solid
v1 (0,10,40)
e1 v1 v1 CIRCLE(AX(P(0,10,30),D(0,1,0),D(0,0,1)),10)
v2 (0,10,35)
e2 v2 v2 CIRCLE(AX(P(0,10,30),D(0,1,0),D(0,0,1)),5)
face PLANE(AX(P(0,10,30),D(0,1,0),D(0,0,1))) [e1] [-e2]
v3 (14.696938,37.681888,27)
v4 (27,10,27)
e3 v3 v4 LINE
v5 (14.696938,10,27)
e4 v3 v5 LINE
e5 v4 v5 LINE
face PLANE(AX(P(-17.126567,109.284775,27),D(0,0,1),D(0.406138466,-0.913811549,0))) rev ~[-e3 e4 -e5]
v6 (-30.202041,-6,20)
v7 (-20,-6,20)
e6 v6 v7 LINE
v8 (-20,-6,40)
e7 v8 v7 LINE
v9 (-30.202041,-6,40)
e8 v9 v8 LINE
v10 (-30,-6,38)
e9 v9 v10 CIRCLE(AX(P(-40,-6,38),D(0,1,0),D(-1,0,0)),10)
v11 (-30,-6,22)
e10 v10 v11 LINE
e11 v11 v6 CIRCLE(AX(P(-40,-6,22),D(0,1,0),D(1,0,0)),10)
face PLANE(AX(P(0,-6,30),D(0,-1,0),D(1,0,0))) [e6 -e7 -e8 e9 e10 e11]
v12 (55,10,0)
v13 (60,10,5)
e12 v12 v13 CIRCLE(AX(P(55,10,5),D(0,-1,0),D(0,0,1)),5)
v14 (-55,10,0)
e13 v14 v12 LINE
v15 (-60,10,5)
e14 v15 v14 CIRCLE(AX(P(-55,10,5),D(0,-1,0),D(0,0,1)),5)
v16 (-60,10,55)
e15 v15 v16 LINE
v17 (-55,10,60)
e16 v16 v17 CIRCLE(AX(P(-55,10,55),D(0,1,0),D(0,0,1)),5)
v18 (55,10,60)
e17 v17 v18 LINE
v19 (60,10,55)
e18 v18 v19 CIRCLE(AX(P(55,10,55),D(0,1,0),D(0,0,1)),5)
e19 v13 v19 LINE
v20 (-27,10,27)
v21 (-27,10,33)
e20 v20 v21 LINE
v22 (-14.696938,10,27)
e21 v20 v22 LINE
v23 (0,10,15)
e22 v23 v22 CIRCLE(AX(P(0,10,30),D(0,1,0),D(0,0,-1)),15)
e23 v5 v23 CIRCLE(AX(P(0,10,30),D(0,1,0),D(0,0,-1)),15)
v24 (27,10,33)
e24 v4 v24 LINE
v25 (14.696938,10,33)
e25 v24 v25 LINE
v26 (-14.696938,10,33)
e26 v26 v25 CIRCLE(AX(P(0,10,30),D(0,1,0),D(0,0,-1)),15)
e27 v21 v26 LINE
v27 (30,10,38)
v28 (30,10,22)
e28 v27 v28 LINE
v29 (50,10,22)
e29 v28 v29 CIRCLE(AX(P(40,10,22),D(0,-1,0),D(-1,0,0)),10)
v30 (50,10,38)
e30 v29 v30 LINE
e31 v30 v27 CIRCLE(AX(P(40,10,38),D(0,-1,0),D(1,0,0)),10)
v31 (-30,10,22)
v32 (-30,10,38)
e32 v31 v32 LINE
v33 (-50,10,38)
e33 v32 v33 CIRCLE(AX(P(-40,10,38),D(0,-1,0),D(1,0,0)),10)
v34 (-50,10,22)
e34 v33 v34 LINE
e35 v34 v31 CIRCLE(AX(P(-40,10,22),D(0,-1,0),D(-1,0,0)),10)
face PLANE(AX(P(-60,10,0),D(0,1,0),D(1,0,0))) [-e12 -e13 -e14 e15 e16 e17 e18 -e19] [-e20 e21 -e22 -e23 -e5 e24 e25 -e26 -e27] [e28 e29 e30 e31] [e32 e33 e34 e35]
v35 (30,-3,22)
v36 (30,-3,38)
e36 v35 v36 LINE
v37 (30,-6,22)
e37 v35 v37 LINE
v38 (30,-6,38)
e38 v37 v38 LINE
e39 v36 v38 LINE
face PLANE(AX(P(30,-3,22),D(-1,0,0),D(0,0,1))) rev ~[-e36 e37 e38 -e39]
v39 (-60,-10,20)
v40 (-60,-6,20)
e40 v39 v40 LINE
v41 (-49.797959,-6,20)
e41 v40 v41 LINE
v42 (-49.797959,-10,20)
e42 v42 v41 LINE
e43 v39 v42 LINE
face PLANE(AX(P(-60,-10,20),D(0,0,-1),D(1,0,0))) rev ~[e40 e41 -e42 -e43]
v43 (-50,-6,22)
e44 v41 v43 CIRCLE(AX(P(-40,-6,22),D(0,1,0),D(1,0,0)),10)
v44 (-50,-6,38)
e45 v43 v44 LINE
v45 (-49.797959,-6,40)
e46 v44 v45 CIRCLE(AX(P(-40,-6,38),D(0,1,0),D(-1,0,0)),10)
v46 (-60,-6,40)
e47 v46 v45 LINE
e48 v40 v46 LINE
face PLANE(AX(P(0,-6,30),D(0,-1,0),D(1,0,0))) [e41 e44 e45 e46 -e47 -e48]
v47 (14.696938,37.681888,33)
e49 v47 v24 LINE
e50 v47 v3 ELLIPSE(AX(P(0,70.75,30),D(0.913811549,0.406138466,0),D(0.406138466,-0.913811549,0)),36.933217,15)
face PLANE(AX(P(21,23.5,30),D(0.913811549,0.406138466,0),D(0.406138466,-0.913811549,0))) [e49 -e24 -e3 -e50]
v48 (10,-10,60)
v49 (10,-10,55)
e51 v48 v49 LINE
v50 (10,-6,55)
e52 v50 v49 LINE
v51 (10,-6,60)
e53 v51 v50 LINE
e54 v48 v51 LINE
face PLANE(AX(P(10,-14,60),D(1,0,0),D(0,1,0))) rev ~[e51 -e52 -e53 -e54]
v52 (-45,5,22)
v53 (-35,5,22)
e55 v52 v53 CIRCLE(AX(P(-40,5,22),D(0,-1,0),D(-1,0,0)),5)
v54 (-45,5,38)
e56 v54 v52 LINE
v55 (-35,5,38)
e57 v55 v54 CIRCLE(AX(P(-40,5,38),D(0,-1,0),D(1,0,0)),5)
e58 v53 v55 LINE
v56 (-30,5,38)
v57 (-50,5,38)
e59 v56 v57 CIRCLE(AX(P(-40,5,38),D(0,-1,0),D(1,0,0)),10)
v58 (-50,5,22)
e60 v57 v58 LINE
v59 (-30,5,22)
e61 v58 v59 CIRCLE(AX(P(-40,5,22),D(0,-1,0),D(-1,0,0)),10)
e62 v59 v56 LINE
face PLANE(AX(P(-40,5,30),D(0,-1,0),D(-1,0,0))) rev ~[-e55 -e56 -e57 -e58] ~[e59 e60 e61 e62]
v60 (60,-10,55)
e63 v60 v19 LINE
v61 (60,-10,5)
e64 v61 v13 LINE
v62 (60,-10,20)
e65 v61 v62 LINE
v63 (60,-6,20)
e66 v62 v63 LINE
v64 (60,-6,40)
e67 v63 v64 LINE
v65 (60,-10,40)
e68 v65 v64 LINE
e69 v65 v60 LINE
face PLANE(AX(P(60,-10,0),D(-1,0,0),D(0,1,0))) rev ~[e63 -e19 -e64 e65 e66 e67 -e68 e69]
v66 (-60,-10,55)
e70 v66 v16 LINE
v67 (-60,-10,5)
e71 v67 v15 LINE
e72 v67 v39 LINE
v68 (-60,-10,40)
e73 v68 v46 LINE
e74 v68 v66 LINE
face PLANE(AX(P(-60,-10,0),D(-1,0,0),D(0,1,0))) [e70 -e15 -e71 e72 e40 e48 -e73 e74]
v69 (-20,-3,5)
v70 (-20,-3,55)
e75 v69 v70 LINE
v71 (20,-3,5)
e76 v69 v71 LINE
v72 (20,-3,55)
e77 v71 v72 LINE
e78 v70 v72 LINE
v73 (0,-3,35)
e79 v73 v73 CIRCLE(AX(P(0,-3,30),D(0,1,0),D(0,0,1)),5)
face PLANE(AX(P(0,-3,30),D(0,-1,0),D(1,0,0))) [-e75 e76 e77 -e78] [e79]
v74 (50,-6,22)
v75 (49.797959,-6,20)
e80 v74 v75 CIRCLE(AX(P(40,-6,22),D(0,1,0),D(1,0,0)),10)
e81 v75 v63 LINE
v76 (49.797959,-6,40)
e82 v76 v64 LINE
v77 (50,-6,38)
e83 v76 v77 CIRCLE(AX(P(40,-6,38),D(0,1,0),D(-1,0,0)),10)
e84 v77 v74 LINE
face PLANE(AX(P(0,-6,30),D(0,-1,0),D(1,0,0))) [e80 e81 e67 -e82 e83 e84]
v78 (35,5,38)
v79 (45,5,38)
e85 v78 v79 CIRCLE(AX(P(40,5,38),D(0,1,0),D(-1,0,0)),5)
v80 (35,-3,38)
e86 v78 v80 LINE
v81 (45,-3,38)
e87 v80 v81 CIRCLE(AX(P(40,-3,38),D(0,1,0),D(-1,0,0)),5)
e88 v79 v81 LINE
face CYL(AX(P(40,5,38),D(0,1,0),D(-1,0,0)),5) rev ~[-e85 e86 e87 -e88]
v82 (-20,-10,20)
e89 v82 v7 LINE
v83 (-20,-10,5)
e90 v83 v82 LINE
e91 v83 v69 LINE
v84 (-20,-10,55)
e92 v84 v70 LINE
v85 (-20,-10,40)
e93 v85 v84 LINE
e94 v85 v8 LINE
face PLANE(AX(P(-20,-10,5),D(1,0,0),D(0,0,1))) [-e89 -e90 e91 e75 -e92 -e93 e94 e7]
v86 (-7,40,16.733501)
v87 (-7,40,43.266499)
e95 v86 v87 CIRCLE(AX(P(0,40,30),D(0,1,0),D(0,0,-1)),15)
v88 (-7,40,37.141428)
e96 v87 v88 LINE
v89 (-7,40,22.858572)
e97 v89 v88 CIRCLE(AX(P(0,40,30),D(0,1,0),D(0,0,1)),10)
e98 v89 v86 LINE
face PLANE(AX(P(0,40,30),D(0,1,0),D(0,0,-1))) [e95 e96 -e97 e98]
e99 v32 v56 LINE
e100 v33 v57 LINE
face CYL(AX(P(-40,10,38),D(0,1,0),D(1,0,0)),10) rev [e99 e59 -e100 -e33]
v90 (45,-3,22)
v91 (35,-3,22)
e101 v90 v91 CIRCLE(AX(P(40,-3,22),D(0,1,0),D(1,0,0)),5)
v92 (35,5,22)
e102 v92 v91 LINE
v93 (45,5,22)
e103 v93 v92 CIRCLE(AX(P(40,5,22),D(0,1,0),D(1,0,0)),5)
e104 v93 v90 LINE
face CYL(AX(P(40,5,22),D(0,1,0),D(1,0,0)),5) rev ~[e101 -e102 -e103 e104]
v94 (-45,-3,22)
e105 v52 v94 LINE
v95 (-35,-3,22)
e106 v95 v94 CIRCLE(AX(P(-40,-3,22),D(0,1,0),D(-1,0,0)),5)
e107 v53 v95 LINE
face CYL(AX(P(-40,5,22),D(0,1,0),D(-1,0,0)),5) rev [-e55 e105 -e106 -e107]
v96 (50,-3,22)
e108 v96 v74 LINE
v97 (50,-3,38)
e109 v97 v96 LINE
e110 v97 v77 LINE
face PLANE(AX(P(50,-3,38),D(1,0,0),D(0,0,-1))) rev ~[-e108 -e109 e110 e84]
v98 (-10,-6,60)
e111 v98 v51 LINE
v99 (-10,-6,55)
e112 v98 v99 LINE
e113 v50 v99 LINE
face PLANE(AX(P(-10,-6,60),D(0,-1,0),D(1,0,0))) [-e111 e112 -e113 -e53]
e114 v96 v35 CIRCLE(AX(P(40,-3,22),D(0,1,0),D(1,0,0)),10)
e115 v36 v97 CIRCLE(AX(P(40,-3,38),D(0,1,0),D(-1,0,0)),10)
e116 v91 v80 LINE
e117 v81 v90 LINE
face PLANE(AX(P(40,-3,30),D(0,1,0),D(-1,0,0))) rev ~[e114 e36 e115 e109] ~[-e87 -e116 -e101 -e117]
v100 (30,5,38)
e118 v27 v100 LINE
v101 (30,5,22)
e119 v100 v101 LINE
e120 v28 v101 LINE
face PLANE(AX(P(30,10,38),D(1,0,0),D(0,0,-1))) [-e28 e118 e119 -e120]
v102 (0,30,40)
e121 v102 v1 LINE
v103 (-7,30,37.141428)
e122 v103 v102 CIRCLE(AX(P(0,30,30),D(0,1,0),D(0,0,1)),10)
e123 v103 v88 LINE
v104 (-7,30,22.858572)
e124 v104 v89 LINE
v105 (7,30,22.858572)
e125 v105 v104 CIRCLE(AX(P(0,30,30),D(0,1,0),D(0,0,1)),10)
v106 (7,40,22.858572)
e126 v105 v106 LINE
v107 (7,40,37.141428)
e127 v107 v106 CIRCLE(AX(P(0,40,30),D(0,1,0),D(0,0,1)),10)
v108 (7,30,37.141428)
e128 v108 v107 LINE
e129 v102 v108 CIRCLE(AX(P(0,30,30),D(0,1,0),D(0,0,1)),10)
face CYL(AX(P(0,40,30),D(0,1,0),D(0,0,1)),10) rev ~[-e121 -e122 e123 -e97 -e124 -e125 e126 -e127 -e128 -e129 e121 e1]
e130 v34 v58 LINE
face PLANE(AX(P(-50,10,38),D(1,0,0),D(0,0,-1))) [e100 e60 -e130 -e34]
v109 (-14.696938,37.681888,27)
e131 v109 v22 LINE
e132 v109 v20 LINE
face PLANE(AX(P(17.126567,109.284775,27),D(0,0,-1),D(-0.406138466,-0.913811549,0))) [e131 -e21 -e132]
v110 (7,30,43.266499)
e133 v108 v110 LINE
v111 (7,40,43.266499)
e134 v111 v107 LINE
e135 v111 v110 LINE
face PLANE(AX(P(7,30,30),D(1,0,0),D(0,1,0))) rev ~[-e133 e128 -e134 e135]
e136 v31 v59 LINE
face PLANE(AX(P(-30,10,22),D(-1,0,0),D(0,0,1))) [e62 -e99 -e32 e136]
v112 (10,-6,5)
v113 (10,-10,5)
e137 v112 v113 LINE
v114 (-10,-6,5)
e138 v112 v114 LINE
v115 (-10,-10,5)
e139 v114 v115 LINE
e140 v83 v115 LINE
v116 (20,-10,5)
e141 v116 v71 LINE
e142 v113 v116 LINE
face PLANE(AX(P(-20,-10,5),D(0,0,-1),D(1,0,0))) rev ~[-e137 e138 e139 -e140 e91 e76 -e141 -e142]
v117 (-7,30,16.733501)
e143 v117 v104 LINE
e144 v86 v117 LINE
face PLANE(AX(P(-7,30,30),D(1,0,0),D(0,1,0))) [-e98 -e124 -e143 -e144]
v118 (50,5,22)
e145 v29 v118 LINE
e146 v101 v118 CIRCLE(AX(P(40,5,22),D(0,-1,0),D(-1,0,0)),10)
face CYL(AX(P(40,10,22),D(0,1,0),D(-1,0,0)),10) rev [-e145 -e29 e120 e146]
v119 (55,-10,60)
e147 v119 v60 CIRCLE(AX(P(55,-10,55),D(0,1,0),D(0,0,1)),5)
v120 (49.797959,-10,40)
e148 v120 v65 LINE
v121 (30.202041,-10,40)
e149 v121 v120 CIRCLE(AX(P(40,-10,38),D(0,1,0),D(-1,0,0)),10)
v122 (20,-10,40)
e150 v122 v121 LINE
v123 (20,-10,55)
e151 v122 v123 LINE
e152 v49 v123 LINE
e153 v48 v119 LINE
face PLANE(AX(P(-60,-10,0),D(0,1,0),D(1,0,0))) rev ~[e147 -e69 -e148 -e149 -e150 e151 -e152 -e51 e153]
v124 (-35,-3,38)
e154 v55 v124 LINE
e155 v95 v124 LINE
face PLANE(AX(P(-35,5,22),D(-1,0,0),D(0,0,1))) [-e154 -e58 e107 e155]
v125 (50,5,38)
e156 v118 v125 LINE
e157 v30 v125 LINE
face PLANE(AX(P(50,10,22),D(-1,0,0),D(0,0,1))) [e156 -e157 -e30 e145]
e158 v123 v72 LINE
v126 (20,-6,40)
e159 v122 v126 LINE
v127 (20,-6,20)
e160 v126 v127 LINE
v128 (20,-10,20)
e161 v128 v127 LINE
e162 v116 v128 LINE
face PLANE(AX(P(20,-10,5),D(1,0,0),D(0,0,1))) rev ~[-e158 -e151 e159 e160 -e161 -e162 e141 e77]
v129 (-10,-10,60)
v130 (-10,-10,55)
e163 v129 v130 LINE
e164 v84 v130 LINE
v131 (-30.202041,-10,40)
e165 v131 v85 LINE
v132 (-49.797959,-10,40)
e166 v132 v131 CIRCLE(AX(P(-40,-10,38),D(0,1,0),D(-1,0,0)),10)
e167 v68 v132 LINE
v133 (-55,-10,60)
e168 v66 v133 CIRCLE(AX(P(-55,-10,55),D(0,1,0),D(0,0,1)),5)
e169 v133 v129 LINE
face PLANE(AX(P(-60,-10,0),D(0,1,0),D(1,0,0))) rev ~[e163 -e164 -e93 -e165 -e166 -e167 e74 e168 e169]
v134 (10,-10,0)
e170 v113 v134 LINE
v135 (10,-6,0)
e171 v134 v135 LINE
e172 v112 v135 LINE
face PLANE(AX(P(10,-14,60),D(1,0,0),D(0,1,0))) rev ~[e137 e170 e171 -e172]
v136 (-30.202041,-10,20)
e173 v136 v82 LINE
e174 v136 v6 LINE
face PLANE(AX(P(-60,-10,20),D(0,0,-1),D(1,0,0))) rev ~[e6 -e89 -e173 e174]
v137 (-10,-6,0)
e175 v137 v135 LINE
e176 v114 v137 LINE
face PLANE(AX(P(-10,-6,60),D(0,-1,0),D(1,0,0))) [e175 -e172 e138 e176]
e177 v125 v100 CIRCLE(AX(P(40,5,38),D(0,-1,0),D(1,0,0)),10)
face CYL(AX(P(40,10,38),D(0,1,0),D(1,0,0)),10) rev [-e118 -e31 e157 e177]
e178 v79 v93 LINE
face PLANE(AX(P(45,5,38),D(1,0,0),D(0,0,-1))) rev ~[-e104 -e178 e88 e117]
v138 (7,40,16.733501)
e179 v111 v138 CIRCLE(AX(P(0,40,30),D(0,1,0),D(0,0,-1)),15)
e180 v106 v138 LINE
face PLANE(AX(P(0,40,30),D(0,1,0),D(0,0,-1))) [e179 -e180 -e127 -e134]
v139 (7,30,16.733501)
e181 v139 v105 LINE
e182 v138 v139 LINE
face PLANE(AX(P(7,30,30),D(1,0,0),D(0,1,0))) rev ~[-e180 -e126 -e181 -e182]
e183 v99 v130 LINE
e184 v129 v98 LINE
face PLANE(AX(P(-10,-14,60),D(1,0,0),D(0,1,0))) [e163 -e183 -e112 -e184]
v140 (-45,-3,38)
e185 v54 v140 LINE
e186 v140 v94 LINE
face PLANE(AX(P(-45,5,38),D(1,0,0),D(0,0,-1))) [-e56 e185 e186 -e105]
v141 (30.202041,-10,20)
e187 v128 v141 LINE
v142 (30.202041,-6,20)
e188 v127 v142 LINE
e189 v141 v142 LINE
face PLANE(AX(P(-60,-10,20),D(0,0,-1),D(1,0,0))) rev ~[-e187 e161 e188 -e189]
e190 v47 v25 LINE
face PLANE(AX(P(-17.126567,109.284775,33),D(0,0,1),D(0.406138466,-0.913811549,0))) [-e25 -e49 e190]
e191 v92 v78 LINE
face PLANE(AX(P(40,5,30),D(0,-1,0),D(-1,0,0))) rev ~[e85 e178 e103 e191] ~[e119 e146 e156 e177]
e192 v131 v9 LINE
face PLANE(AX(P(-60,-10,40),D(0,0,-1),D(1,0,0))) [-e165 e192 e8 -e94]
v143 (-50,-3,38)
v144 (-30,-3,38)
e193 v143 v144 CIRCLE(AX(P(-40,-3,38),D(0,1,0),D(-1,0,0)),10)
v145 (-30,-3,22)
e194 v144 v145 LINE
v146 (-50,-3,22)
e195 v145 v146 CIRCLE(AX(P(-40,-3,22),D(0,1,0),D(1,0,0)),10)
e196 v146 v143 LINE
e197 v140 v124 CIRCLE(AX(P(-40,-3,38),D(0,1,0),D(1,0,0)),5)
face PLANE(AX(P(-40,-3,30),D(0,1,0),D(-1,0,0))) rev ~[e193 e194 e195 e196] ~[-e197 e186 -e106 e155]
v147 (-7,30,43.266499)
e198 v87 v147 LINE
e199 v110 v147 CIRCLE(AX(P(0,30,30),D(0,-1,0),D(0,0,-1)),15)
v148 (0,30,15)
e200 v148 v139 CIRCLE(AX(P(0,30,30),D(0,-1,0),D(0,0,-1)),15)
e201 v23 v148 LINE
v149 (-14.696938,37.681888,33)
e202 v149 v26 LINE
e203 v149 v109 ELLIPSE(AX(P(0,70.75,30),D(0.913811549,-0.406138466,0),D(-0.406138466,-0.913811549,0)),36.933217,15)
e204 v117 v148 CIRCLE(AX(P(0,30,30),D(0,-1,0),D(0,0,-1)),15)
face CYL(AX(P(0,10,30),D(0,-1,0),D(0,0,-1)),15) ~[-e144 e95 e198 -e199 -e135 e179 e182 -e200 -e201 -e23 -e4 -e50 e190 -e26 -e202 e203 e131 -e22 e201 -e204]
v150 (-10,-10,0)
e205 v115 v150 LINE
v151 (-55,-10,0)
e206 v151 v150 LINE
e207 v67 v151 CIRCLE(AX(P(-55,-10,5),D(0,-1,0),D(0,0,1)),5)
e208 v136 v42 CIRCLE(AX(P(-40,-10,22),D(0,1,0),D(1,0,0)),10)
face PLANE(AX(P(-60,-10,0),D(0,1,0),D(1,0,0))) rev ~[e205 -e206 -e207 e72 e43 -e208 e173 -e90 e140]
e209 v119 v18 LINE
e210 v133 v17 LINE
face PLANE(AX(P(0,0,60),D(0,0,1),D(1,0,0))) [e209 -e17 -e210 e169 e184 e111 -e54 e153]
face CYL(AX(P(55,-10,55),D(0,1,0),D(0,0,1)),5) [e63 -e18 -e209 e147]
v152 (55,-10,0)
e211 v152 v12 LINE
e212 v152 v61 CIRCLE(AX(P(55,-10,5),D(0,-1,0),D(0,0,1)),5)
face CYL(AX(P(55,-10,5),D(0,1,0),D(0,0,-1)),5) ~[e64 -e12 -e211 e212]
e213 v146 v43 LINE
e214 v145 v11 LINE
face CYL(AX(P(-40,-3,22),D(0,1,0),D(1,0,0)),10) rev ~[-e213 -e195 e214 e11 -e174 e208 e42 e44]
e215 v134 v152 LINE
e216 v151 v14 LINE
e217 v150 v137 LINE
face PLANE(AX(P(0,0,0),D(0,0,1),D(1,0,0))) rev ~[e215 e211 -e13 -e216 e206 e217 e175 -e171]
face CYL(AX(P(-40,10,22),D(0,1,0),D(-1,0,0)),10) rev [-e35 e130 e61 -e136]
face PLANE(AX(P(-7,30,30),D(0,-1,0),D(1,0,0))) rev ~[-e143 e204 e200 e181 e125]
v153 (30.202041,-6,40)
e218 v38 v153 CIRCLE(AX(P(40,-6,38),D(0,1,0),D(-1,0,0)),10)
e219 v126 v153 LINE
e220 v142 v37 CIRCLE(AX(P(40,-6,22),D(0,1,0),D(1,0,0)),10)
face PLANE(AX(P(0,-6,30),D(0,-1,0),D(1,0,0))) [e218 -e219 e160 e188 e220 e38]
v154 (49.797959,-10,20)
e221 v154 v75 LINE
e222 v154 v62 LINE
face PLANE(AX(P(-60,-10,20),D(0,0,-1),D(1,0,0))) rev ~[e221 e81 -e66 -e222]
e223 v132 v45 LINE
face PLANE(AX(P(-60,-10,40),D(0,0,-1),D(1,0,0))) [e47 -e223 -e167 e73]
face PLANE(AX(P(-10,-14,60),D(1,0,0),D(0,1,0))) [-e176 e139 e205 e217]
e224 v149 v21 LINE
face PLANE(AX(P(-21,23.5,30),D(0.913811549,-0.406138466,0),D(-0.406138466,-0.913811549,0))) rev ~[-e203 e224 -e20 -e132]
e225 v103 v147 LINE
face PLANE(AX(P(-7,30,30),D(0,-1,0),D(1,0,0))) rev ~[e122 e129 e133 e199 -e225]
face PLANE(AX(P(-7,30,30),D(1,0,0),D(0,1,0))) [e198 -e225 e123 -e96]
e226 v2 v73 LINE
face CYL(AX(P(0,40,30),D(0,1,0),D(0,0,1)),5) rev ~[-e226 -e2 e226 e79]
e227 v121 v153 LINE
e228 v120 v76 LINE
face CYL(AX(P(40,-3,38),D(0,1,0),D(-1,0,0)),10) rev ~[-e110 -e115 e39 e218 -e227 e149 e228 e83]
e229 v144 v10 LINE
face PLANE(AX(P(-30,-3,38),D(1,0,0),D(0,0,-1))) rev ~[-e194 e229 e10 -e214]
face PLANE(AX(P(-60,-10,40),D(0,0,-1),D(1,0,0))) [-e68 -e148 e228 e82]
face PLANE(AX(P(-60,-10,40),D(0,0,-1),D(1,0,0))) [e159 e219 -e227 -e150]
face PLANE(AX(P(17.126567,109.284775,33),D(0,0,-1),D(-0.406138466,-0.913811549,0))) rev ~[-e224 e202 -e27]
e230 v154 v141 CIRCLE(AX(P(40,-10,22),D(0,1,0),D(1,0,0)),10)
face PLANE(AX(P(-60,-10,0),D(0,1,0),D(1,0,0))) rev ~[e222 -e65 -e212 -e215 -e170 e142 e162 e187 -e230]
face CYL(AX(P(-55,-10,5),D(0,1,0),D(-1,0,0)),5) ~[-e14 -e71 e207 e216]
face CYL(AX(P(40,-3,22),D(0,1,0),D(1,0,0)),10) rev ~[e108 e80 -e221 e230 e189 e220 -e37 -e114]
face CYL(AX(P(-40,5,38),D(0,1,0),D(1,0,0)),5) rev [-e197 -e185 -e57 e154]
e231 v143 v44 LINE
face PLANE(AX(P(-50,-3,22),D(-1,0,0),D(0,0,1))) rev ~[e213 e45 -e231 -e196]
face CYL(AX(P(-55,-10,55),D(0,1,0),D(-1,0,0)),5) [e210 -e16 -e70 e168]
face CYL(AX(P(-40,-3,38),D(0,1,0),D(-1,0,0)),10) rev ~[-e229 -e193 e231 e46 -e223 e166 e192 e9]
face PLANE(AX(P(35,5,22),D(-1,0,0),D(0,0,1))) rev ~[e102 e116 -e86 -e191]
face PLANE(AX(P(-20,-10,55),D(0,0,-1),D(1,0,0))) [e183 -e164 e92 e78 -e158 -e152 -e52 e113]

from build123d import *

# Parameters (mm, degrees)
SKETCH1_W           = 120
SKETCH1_H           = 20
BOSS_EXTRUDE1_DEPTH = 60
SKETCH2_R           = 15
BOSS_EXTRUDE2_DEPTH = 30
SKETCH3_R           = 5
CUT_EXTRUDE1_DEPTH  = 76
SKETCH4_R           = 10
CUT_EXTRUDE3_DEPTH  = 30
SKETCH5_W           = 40
SKETCH5_H           = 50
CUT_EXTRUDE5_DEPTH  = 7
SKETCH6_W           = 20
SKETCH6_H           = 8
CUT_EXTRUDE6_DEPTH  = 70
CUT_EXTRUDE7_DEPTH  = 5
CUT_EXTRUDE8_START  = -7
CUT_EXTRUDE8_DEPTH  = 7
CUT_EXTRUDE9_DEPTH  = 24
SKETCH11_W          = 120
SKETCH11_H          = 20
CUT_EXTRUDE10_DEPTH = 4
RIB10_REACH         = 80.102
SKETCH12_WALL_W     = 187.751566924
SKETCH12_WALL_H     = 6
RIB11_REACH         = 80.102
SKETCH13_WALL_W     = 187.751566924
SKETCH13_WALL_H     = 6
FILLET1_R           = 5
SKETCH14_W          = 14
SKETCH14_H          = 10
CUT_EXTRUDE13_DEPTH = 20


with BuildPart() as part:
    # Sketch1 → Boss-Extrude1 (new body)
    with BuildSketch(Plane.XY):
        Rectangle(SKETCH1_W, SKETCH1_H)
    extrude(amount=BOSS_EXTRUDE1_DEPTH)

    # Sketch2 → Boss-Extrude2 (add)
    with BuildSketch(Plane(origin=(0, 10, 0), x_dir=(1, 0, 0), z_dir=(0, 1, 0))):
        with Locations(Location((0, -30, 0), (0, 0, 90))):
            Circle(SKETCH2_R)
    extrude(amount=BOSS_EXTRUDE2_DEPTH)

    # Sketch3 → Cut-Extrude1 (cut)
    with BuildSketch(Plane(origin=(0, 40, 0), x_dir=(1, 0, 0), z_dir=(0, 1, 0))):
        with Locations(Location((0, -30, 0), (0, 0, 270))):
            Circle(SKETCH3_R)
    extrude(amount=-CUT_EXTRUDE1_DEPTH, mode=Mode.SUBTRACT)

    # Sketch4 → Cut-Extrude3 (cut)
    with BuildSketch(Plane(origin=(0, 40, 0), x_dir=(1, 0, 0), z_dir=(0, 1, 0))):
        with Locations(Location((0, -30, 0), (0, 0, 270))):
            Circle(SKETCH4_R)
    extrude(amount=-CUT_EXTRUDE3_DEPTH, mode=Mode.SUBTRACT)

    # Sketch5 → Cut-Extrude5 (cut)
    with BuildSketch(Plane.XZ.offset(10)):
        with Locations((0, 30)):
            Rectangle(SKETCH5_W, SKETCH5_H)
    extrude(amount=-CUT_EXTRUDE5_DEPTH, mode=Mode.SUBTRACT)

    # Sketch6 → Cut-Extrude6 (cut)
    with BuildSketch(Plane.XY.offset(60)):
        with Locations((0, -10)):
            Rectangle(SKETCH6_W, SKETCH6_H)
    extrude(amount=-CUT_EXTRUDE6_DEPTH, mode=Mode.SUBTRACT)

    # Sketch7 → Cut-Extrude7 (cut)
    with BuildSketch(Plane(origin=(0, 10, 0), x_dir=(1, 0, 0), z_dir=(0, 1, 0))):
        with BuildLine():
            Line((-30, -22), (-30, -38))
            ThreePointArc((-30, -38), (-40, -48), (-50, -38))
            Line((-50, -38), (-50, -22))
            ThreePointArc((-50, -22), (-40, -12), (-30, -22))
        make_face()
        with BuildLine():
            Line((50, -22), (50, -38))
            ThreePointArc((50, -38), (40, -48), (30, -38))
            Line((30, -38), (30, -22))
            ThreePointArc((30, -22), (40, -12), (50, -22))
        make_face()
    extrude(amount=-CUT_EXTRUDE7_DEPTH, mode=Mode.SUBTRACT)

    # Sketch9 → Cut-Extrude8 (cut)
    with BuildSketch(Plane.XZ.offset(10).offset(CUT_EXTRUDE8_START)):
        with BuildLine():
            Line((-30, 38), (-30, 22))
            ThreePointArc((-30, 22), (-40, 12), (-50, 22))
            Line((-50, 22), (-50, 38))
            ThreePointArc((-50, 38), (-40, 48), (-30, 38))
        make_face()
        with BuildLine():
            Line((50, 38), (50, 22))
            ThreePointArc((50, 22), (40, 12), (30, 22))
            Line((30, 22), (30, 38))
            ThreePointArc((30, 38), (40, 48), (50, 38))
        make_face()
    extrude(amount=CUT_EXTRUDE8_DEPTH, mode=Mode.SUBTRACT)

    # Sketch10 → Cut-Extrude9 (cut)
    with BuildSketch(Plane(origin=(0, 5, 0), x_dir=(1, 0, 0), z_dir=(0, 1, 0))):
        with BuildLine():
            Line((-45, -38), (-45, -22))
            ThreePointArc((-45, -22), (-40, -17), (-35, -22))
            Line((-35, -22), (-35, -38))
            ThreePointArc((-35, -38), (-40, -43), (-45, -38))
        make_face()
        with BuildLine():
            Line((45, -38), (45, -22))
            ThreePointArc((45, -22), (40, -17), (35, -22))
            Line((35, -22), (35, -38))
            ThreePointArc((35, -38), (40, -43), (45, -38))
        make_face()
    extrude(amount=-CUT_EXTRUDE9_DEPTH, mode=Mode.SUBTRACT)

    # Sketch11 → Cut-Extrude10 (cut)
    with BuildSketch(Plane.XZ.offset(10)):
        with Locations((0, 30)):
            Rectangle(SKETCH11_W, SKETCH11_H)
    extrude(amount=-CUT_EXTRUDE10_DEPTH, mode=Mode.SUBTRACT)

    # Sketch12 wall → Rib10 (add, up to next)
    with BuildSketch(Plane(origin=(-21, 23.5, 30), x_dir=(-0.406138466053, -0.91381154862, 0), z_dir=(0.91381154862, -0.406138466053, 0)), mode=Mode.PRIVATE) as rib10_sk1:
        Rectangle(SKETCH12_WALL_W, SKETCH12_WALL_H)
    rib10_tool1 = extrude(rib10_sk1.sketch, amount=RIB10_REACH, mode=Mode.PRIVATE) - part.part
    add(rib10_tool1.solids().sort_by_distance((-21, 23.5, 30))[0])

    # Sketch13 wall → Rib11 (add, up to next)
    with BuildSketch(Plane(origin=(21, 23.5, 30), x_dir=(0.406138466053, -0.91381154862, 0), z_dir=(0.91381154862, 0.406138466053, 0)), mode=Mode.PRIVATE) as rib11_sk1:
        Rectangle(SKETCH13_WALL_W, SKETCH13_WALL_H)
    rib11_tool1 = extrude(rib11_sk1.sketch, amount=-RIB11_REACH, mode=Mode.PRIVATE) - part.part
    add(rib11_tool1.solids().sort_by_distance((21, 23.5, 30))[0])

    # Fillet1
    fillet1_edges = [part.edges().sort_by_distance(p)[0] for p in [
        (-60, 0, 60),
        (60, 0, 60),
        (-60, 0, 0),
        (60, 0, 0),
    ]]
    fillet(fillet1_edges, radius=FILLET1_R)

    # Sketch14 → Cut-Extrude13 (cut, symmetric)
    with BuildSketch(Plane.XY.offset(30)):
        with Locations((0, 35)):
            Rectangle(SKETCH14_W, SKETCH14_H)
    extrude(amount=CUT_EXTRUDE13_DEPTH, both=True, mode=Mode.SUBTRACT)


solid = part.part
